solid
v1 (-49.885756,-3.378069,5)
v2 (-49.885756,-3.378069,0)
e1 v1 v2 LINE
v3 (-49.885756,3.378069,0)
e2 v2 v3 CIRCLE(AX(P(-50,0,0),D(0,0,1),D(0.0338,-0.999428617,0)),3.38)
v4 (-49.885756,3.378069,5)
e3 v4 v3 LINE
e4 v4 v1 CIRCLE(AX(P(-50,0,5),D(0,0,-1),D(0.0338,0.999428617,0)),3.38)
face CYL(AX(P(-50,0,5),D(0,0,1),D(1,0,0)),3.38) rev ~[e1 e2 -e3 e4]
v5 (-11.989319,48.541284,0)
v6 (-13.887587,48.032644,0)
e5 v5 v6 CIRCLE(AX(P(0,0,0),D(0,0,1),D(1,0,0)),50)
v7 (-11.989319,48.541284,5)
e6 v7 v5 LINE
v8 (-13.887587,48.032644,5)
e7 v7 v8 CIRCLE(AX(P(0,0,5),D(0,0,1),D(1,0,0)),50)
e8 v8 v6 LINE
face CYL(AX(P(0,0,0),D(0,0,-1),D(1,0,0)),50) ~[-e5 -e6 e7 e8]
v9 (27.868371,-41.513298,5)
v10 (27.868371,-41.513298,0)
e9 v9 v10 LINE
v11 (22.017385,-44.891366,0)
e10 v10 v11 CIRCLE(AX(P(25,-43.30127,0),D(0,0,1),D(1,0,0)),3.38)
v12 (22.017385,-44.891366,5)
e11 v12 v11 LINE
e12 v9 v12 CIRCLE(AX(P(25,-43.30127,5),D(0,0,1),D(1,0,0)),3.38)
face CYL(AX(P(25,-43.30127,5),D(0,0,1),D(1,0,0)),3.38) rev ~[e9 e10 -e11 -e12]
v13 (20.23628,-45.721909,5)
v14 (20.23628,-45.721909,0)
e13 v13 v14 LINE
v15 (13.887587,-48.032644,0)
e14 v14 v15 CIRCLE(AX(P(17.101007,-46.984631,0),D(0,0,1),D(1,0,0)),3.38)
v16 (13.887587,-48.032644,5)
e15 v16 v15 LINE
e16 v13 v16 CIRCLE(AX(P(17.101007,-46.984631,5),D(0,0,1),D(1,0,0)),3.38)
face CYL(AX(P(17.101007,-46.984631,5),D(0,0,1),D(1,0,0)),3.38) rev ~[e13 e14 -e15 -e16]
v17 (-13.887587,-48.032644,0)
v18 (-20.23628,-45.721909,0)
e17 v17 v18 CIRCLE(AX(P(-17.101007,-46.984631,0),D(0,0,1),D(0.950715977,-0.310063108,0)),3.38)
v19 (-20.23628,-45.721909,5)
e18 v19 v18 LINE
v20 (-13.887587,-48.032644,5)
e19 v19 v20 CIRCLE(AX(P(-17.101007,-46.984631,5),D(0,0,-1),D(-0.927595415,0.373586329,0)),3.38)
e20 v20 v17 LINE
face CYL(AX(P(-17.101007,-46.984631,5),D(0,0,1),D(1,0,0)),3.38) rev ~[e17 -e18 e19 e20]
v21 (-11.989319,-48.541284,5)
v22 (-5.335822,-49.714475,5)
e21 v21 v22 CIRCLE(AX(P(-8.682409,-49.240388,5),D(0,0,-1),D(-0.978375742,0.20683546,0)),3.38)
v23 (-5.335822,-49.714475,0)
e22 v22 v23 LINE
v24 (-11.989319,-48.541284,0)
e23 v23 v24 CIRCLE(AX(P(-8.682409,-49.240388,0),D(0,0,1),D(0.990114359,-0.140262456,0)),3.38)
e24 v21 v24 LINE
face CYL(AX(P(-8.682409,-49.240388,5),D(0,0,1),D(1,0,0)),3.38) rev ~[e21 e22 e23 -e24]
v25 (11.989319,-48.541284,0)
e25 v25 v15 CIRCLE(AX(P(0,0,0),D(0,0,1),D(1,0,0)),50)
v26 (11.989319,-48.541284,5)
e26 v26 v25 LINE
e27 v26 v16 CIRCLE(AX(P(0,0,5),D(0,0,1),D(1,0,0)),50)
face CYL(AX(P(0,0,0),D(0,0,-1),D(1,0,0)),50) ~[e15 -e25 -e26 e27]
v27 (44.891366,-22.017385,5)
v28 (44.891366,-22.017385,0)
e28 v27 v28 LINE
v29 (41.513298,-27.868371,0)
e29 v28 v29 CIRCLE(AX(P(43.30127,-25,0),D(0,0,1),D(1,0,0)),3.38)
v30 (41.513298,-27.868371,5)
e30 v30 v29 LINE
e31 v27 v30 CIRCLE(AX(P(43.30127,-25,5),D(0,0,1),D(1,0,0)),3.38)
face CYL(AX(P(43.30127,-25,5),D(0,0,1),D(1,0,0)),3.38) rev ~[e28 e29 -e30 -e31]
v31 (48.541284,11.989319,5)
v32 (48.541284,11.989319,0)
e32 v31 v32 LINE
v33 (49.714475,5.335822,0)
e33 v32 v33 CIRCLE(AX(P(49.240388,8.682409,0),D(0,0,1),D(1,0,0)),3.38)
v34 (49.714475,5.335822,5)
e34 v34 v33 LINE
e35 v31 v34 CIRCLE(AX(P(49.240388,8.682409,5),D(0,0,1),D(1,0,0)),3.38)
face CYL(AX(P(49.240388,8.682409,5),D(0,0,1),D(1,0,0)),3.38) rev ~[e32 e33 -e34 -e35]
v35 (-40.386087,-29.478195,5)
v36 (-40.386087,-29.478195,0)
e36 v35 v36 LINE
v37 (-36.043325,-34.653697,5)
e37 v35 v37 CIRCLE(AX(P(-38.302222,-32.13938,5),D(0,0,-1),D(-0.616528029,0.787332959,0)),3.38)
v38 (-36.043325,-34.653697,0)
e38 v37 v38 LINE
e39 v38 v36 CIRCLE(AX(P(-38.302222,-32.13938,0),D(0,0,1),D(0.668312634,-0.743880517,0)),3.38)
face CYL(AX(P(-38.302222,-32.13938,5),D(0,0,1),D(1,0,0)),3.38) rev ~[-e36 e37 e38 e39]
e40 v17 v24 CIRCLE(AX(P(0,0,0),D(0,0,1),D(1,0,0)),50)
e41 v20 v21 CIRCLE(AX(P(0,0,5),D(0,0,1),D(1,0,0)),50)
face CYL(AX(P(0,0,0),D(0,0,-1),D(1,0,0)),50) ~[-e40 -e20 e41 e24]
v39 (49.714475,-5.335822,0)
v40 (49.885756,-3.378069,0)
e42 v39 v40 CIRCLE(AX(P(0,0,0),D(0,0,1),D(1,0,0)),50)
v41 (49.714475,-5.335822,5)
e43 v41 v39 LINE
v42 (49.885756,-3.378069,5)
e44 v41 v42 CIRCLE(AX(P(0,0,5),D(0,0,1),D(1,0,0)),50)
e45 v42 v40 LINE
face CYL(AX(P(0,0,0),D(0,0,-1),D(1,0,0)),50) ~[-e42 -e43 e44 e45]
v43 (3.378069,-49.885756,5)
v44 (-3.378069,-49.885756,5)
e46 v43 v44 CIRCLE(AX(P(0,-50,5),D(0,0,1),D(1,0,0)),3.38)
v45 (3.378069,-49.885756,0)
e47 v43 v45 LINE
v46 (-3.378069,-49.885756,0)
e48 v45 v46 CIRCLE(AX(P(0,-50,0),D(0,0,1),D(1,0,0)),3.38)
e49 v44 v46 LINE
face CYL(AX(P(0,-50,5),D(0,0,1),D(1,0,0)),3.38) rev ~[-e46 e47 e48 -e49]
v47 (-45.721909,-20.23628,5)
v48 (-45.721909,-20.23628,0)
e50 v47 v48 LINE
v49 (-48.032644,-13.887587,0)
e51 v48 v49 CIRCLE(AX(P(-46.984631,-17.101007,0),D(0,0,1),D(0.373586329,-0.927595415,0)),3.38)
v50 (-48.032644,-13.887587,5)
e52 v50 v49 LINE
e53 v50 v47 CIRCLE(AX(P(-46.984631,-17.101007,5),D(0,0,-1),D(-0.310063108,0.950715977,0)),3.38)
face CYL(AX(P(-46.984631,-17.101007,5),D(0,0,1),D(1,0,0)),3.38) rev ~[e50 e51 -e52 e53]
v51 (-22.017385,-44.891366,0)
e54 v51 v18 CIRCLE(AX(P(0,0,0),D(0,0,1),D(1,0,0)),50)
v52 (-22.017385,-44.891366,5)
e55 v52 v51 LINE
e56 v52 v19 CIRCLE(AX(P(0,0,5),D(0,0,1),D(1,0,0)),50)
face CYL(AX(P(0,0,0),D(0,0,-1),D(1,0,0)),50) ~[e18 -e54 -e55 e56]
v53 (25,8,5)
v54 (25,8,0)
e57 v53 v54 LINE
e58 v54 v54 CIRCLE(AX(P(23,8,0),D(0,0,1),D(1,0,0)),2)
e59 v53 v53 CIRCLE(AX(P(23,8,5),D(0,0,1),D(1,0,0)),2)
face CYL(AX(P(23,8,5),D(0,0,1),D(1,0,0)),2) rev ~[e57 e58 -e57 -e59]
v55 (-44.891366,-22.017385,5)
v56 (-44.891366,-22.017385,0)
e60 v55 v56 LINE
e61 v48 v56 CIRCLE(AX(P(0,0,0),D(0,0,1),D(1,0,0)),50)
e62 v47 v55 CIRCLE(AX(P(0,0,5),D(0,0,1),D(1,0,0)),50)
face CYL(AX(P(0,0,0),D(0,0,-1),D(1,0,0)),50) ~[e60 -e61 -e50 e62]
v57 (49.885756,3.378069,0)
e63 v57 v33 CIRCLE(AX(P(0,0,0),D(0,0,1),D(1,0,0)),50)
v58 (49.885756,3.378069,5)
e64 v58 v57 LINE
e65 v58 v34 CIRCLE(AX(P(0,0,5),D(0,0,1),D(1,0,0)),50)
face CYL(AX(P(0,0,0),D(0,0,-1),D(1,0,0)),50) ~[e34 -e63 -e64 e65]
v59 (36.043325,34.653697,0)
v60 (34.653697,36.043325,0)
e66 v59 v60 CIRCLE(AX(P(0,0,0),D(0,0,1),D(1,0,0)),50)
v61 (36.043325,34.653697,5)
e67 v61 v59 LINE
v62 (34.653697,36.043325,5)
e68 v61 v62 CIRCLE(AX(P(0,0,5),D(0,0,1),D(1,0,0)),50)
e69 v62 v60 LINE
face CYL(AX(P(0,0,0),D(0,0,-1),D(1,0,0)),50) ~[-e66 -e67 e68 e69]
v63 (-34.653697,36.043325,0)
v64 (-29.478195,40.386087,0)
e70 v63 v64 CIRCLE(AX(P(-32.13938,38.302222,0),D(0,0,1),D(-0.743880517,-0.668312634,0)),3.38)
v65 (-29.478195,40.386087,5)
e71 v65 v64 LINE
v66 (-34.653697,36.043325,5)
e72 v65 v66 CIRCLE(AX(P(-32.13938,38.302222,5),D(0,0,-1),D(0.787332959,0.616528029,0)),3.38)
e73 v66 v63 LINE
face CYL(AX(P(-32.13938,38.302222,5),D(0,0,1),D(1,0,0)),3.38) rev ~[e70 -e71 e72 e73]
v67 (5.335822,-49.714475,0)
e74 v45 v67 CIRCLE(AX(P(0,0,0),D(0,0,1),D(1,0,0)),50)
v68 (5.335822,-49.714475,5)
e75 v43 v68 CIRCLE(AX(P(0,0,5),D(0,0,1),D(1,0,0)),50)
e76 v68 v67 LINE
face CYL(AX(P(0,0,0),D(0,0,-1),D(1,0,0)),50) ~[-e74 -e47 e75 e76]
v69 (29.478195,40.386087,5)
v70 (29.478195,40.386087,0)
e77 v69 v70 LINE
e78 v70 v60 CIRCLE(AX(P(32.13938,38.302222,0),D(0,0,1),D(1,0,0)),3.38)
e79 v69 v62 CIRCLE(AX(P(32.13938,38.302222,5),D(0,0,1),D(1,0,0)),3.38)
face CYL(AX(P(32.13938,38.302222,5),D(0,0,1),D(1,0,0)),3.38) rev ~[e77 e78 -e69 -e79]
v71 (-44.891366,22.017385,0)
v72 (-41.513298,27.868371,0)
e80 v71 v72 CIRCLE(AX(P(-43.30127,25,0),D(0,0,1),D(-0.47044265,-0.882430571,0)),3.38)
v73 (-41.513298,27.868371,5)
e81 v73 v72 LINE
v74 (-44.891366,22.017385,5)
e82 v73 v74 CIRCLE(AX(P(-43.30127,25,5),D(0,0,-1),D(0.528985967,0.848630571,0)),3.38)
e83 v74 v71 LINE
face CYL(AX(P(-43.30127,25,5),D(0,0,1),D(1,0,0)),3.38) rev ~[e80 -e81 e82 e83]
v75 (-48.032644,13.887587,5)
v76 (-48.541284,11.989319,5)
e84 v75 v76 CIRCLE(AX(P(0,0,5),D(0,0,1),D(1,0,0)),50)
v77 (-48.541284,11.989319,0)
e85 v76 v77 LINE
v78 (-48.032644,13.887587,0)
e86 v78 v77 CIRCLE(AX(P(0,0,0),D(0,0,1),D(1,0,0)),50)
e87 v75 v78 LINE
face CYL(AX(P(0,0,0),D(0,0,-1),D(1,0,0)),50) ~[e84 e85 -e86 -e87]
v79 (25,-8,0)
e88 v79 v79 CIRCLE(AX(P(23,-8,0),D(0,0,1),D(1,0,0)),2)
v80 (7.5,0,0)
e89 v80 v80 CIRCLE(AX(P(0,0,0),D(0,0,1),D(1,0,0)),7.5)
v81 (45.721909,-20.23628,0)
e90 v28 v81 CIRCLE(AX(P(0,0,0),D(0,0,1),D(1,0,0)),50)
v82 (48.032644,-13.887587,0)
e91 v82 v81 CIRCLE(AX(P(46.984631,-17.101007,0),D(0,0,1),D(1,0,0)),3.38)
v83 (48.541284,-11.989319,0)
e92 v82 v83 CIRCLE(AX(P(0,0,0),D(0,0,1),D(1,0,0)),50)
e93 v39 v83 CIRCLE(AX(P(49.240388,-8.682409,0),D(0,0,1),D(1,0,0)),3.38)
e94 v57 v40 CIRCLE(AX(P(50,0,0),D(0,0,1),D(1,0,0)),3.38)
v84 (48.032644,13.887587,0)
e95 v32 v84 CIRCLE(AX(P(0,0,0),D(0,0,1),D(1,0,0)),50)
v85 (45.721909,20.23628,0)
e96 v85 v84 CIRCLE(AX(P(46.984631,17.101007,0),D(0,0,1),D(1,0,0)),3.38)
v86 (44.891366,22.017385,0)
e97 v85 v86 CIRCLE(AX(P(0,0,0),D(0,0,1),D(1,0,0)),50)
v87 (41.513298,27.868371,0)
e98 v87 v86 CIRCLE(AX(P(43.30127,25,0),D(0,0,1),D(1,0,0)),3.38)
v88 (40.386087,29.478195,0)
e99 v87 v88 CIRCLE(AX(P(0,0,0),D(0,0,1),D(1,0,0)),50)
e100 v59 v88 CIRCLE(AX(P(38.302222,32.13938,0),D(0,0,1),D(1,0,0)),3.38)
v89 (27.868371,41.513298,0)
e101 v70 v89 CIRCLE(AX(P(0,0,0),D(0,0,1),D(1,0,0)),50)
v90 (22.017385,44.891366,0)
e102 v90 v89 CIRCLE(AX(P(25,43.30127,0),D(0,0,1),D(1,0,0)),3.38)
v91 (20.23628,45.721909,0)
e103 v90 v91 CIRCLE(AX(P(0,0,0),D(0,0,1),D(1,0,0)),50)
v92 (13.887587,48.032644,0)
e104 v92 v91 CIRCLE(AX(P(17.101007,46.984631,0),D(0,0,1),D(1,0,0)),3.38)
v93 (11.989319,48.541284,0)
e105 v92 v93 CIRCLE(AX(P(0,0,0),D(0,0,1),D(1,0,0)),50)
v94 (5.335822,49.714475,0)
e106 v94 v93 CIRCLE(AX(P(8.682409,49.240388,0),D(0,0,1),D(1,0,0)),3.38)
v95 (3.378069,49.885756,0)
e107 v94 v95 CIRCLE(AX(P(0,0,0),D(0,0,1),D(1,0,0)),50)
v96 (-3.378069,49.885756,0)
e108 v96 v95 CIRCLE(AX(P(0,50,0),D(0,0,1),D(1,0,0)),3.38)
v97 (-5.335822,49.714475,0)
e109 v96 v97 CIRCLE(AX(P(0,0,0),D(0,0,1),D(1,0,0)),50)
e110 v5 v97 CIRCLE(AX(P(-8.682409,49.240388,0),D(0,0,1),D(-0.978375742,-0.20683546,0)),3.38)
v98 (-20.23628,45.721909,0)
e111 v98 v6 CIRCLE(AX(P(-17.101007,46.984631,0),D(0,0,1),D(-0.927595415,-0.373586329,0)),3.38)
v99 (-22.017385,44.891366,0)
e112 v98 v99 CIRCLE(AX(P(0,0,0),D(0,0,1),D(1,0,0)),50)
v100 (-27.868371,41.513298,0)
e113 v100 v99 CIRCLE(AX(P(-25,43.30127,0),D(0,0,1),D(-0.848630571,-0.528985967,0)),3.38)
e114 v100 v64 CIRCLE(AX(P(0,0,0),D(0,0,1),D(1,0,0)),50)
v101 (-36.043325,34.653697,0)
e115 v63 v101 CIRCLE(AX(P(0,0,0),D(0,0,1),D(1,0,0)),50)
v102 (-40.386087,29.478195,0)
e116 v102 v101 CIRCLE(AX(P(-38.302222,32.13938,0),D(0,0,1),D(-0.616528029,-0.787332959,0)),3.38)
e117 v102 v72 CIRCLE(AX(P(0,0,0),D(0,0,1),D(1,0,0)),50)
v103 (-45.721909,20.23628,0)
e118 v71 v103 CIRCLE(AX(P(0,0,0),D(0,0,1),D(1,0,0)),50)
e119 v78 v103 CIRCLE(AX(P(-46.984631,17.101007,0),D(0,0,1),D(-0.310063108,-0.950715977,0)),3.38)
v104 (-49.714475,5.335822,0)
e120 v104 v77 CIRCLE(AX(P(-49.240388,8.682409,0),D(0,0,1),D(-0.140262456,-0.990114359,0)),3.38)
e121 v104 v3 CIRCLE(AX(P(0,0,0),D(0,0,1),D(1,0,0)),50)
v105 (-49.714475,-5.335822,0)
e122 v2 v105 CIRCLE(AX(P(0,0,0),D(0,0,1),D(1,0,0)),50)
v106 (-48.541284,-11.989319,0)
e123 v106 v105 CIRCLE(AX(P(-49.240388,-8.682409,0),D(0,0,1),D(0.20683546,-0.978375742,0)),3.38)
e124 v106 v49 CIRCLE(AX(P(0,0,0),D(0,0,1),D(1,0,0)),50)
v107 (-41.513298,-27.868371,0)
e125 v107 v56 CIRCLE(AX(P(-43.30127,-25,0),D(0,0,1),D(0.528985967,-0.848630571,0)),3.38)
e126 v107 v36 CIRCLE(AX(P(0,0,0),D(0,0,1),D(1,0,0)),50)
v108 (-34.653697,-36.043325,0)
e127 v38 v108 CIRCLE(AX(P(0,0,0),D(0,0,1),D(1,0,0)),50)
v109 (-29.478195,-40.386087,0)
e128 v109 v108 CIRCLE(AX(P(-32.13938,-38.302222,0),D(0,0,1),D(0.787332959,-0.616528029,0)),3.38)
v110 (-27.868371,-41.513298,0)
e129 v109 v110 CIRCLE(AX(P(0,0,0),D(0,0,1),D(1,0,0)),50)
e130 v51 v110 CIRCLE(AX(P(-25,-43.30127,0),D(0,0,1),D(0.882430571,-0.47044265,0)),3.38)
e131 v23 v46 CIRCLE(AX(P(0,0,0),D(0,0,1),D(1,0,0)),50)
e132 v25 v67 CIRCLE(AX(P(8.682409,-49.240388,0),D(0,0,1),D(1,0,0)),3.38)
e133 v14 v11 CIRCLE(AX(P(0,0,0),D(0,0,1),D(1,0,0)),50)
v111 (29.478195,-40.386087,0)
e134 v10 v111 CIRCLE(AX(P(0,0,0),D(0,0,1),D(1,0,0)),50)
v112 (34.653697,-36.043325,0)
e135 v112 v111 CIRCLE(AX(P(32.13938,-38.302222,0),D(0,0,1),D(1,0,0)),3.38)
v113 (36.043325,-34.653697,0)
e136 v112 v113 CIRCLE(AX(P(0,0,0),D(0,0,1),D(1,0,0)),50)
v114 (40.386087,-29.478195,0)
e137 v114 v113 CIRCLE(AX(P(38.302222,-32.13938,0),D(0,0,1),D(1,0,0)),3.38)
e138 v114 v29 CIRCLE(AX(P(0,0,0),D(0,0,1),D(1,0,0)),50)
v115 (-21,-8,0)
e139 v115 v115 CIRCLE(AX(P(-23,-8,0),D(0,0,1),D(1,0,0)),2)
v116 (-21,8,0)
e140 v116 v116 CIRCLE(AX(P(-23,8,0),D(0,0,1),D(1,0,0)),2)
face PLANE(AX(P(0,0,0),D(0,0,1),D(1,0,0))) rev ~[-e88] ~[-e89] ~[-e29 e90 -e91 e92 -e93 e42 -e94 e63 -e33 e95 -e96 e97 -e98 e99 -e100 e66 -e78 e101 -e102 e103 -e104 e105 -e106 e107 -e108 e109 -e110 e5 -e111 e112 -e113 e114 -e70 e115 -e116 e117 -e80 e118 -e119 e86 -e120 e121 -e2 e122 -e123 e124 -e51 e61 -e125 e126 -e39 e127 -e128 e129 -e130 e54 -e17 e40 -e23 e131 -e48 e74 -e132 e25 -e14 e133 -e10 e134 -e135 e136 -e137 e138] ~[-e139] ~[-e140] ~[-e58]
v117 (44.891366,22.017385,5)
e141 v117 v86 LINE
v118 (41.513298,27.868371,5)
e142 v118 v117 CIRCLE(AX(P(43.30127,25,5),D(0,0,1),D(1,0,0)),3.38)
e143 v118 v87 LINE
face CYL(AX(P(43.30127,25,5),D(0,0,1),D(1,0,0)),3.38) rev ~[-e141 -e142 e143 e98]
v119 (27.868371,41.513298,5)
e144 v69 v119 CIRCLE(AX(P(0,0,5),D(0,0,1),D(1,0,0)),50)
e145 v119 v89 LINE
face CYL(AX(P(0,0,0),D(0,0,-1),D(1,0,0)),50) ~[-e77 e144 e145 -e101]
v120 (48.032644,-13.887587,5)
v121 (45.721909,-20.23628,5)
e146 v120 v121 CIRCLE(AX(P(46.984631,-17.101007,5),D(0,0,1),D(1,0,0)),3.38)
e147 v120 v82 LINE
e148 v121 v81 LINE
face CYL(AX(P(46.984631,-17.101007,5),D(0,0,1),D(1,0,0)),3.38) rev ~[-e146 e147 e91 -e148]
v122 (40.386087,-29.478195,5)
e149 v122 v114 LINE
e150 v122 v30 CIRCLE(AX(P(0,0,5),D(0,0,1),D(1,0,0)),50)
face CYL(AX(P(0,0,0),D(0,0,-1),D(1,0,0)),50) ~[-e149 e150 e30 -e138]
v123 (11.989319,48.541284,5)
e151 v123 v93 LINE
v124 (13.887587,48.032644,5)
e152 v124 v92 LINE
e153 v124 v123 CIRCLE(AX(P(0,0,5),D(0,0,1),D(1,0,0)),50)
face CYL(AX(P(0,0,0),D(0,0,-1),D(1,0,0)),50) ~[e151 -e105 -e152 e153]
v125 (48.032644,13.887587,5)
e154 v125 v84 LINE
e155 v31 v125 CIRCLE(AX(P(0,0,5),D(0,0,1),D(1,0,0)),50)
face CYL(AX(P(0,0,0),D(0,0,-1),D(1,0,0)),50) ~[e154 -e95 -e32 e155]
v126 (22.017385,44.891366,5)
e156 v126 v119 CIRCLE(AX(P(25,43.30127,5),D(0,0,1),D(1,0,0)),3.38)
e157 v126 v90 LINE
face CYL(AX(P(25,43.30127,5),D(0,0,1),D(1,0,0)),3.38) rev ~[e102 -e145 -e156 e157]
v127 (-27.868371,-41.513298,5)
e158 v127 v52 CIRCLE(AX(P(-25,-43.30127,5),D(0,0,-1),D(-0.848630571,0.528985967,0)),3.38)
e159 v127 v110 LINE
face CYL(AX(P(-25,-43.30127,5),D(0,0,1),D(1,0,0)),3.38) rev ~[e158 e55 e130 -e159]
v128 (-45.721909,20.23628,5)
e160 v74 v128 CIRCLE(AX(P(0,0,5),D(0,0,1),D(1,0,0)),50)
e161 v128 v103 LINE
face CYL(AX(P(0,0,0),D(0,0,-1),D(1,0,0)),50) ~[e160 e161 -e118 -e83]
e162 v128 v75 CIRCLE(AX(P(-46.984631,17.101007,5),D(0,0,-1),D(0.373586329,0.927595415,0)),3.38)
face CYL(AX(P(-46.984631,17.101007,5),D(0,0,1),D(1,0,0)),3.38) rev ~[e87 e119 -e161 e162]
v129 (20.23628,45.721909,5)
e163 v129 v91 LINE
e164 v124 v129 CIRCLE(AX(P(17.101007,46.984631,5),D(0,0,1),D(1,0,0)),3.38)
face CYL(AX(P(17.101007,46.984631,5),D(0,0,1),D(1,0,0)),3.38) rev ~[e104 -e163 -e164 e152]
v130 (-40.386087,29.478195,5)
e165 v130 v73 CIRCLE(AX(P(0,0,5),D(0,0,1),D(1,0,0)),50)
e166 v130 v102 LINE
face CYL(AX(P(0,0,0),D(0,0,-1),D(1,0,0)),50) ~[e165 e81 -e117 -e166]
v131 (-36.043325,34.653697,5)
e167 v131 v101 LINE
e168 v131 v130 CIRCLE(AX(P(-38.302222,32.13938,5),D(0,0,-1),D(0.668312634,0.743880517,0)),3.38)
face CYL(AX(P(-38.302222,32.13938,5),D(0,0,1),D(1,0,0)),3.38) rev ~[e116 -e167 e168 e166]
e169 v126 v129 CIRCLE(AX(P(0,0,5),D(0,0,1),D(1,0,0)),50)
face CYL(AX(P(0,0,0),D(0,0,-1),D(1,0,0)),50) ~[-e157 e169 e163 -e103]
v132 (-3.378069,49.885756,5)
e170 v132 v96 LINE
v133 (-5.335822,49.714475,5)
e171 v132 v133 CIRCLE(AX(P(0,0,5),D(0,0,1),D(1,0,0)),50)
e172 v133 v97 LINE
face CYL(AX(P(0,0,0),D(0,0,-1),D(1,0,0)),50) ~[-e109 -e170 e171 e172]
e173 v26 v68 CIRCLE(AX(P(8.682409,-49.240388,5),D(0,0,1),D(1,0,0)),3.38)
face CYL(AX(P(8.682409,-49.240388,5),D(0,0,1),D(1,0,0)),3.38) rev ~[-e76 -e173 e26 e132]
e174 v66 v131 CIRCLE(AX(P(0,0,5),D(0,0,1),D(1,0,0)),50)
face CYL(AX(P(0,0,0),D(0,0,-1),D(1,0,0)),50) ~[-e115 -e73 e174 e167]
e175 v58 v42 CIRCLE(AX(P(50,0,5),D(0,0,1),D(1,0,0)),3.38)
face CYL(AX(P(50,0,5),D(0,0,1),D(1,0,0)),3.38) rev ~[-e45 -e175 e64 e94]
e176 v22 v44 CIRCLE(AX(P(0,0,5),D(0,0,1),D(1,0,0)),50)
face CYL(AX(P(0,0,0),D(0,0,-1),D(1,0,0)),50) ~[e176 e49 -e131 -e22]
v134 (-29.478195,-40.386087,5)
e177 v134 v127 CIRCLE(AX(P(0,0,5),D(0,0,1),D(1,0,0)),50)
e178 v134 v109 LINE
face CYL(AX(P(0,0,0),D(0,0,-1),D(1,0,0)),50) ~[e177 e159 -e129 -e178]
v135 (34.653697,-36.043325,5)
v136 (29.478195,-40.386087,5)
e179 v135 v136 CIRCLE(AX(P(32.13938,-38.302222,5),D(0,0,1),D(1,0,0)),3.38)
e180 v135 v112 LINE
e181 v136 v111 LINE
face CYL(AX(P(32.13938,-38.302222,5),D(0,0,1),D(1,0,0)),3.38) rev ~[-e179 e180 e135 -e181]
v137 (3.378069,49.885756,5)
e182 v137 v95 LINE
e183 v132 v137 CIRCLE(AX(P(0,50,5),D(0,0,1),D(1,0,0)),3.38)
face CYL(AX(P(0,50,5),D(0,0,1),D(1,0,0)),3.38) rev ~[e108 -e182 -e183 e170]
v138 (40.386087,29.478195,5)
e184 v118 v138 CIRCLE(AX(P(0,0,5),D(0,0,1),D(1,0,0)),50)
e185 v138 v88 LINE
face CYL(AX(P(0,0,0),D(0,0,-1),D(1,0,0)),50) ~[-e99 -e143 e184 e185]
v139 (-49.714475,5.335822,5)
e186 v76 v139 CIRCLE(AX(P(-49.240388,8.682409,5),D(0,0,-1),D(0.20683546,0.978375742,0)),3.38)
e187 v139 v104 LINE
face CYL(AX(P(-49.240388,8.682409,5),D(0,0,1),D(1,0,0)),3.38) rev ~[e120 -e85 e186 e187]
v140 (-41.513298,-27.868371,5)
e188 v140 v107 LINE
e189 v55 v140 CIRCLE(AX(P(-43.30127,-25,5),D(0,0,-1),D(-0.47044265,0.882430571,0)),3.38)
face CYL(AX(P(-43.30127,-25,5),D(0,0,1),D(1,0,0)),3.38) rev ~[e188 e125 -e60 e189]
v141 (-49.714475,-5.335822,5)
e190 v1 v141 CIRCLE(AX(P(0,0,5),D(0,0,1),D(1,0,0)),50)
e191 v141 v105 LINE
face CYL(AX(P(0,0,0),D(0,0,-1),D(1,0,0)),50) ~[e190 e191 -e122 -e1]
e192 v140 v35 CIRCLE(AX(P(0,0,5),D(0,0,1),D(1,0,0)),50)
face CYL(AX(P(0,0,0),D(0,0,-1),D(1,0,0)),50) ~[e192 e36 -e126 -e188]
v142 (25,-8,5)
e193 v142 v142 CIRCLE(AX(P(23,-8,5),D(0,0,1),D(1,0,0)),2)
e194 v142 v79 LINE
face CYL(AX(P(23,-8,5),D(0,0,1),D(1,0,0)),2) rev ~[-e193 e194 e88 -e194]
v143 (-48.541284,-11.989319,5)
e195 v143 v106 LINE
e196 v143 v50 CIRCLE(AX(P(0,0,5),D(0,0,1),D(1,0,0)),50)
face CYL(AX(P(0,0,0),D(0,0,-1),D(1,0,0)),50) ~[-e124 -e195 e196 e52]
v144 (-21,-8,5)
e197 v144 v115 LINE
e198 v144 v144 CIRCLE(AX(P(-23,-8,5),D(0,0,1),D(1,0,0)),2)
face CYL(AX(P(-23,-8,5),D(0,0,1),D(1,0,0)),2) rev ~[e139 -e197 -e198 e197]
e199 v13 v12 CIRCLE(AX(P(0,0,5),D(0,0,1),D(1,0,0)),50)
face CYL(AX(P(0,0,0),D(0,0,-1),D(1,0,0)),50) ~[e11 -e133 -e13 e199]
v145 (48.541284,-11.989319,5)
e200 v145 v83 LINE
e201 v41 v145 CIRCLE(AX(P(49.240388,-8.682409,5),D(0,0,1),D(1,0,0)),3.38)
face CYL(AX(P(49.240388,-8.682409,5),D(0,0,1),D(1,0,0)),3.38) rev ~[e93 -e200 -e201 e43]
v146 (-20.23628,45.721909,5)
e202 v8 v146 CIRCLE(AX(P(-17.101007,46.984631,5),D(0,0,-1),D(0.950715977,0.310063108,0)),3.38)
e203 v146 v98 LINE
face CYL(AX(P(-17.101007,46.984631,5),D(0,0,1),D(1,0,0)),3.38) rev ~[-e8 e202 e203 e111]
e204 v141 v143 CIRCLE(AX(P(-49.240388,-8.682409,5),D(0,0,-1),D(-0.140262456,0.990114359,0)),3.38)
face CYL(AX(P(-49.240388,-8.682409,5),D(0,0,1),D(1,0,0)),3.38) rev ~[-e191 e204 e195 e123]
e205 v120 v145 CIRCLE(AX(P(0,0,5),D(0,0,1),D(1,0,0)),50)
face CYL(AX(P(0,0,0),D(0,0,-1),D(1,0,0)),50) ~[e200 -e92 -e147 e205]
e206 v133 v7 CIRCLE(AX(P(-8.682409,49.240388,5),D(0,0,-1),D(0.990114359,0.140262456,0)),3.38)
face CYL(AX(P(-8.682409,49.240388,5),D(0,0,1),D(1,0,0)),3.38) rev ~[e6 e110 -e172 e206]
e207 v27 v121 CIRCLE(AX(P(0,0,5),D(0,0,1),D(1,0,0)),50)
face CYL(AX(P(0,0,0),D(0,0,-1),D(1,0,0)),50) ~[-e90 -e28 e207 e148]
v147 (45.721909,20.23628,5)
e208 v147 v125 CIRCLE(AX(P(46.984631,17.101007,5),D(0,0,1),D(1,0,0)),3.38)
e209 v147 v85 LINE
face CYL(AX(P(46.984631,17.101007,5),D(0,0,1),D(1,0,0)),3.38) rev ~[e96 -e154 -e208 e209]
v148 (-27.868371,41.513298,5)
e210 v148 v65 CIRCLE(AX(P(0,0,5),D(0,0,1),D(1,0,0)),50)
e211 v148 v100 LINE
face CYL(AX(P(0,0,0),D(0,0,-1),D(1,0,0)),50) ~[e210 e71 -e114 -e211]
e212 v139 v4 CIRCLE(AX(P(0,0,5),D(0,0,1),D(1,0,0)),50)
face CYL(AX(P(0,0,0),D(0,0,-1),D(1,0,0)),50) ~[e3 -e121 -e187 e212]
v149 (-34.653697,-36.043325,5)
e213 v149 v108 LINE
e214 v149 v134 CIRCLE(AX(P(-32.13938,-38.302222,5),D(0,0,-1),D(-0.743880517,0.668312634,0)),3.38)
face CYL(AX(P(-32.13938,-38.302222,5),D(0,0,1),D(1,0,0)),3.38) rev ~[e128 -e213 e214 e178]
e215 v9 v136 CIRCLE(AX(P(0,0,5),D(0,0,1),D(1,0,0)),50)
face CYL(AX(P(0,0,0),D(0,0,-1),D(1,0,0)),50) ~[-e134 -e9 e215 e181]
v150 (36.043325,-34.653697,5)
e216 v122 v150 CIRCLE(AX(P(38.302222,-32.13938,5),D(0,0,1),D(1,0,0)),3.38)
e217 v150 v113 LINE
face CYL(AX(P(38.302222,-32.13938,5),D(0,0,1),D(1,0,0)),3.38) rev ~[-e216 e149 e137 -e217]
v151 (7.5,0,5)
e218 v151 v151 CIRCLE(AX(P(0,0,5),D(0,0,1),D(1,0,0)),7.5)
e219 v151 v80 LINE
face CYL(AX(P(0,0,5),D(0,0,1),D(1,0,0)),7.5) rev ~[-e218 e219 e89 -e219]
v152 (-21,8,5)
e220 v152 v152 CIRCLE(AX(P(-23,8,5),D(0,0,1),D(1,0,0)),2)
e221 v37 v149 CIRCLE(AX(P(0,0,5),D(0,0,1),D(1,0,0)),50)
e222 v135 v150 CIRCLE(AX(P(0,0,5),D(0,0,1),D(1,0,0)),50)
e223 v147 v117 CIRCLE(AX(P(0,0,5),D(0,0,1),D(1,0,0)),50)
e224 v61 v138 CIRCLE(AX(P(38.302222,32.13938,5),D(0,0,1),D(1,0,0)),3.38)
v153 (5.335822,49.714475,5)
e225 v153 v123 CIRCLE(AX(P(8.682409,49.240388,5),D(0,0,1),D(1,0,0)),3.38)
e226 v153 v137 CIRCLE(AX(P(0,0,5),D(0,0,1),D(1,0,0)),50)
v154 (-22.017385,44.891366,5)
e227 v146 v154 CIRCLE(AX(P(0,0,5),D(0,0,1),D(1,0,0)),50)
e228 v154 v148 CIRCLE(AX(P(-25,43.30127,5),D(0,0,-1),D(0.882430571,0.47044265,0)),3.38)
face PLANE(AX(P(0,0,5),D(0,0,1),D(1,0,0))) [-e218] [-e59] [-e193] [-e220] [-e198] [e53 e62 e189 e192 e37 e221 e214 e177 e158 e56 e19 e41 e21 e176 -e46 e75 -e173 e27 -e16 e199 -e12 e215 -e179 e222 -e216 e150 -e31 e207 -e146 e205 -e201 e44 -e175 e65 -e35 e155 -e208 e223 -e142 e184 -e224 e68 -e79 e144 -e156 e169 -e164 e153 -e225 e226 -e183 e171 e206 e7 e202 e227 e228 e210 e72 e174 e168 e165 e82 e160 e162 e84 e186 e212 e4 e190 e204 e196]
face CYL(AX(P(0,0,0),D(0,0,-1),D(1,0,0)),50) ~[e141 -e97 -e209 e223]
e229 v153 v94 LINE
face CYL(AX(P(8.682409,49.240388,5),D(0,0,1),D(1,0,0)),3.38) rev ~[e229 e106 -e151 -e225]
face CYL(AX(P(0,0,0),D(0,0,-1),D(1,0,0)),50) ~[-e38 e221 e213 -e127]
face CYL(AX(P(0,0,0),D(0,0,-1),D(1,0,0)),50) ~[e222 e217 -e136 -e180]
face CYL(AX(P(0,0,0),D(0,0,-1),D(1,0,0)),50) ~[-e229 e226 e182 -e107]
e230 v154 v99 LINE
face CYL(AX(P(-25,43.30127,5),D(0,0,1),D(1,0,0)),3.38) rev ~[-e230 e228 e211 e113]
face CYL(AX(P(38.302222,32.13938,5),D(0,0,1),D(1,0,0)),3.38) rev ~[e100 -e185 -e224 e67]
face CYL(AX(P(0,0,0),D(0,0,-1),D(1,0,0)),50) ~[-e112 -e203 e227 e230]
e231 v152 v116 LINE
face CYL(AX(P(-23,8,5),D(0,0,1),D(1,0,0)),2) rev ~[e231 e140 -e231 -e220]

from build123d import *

# Parameters (mm, degrees)
SKETCH_1_R          = 50
EXTRUDE_1_DEPTH     = 5
SKETCH_4_R          = 7.5
CUT_EXTRUDE_3_DEPTH = 10
SKETCH_5_R          = 2
CUT_EXTRUDE_4_DEPTH = 10
SKETCH_6_R          = 3.38
CUT_EXTRUDE_5_DEPTH = 71.887234394


with BuildPart() as part:
    # 스케치1 → 보스-돌출1 (new body)
    with BuildSketch(Plane.XY):
        Circle(SKETCH_1_R)
    extrude(amount=EXTRUDE_1_DEPTH)

    # 스케치4 → 컷-돌출3 (cut)
    with BuildSketch(Plane.XY.offset(5)):
        Circle(SKETCH_4_R)
    extrude(amount=-CUT_EXTRUDE_3_DEPTH, mode=Mode.SUBTRACT)

    # 스케치5 → 컷-돌출4 (cut)
    with BuildSketch(Plane.XY.offset(5)):
        with Locations((-23, 8)):
            Circle(SKETCH_5_R)
        with Locations((23, 8)):
            Circle(SKETCH_5_R)
        with Locations((23, -8)):
            Circle(SKETCH_5_R)
        with Locations((-23, -8)):
            Circle(SKETCH_5_R)
    extrude(amount=-CUT_EXTRUDE_4_DEPTH, mode=Mode.SUBTRACT)

    # 스케치6 → 컷-돌출5 (cut, through all)
    with BuildSketch(Plane.XY.offset(5)):
        with Locations((0, 50)):
            Circle(SKETCH_6_R)
        with Locations((8.682408883, 49.240387651)):
            Circle(SKETCH_6_R)
        with Locations((17.101007166, 46.984631039)):
            Circle(SKETCH_6_R)
        with Locations((25, 43.301270189)):
            Circle(SKETCH_6_R)
        with Locations((32.139380484, 38.302222156)):
            Circle(SKETCH_6_R)
        with Locations((38.302222156, 32.139380484)):
            Circle(SKETCH_6_R)
        with Locations((43.301270189, 25)):
            Circle(SKETCH_6_R)
        with Locations((46.984631039, 17.101007166)):
            Circle(SKETCH_6_R)
        with Locations((49.240387651, 8.682408883)):
            Circle(SKETCH_6_R)
        with Locations((50, 0)):
            Circle(SKETCH_6_R)
        with Locations((49.240387651, -8.682408883)):
            Circle(SKETCH_6_R)
        with Locations((46.984631039, -17.101007166)):
            Circle(SKETCH_6_R)
        with Locations((43.301270189, -25)):
            Circle(SKETCH_6_R)
        with Locations((38.302222156, -32.139380484)):
            Circle(SKETCH_6_R)
        with Locations((32.139380484, -38.302222156)):
            Circle(SKETCH_6_R)
        with Locations((25, -43.301270189)):
            Circle(SKETCH_6_R)
        with Locations((17.101007166, -46.984631039)):
            Circle(SKETCH_6_R)
        with Locations((8.682408883, -49.240387651)):
            Circle(SKETCH_6_R)
        with Locations((0, -50)):
            Circle(SKETCH_6_R)
        with Locations((-8.682408883, -49.240387651)):
            Circle(SKETCH_6_R)
        with Locations((-17.101007166, -46.984631039)):
            Circle(SKETCH_6_R)
        with Locations((-25, -43.301270189)):
            Circle(SKETCH_6_R)
        with Locations((-32.139380484, -38.302222156)):
            Circle(SKETCH_6_R)
        with Locations((-38.302222156, -32.139380484)):
            Circle(SKETCH_6_R)
        with Locations((-43.301270189, -25)):
            Circle(SKETCH_6_R)
        with Locations((-46.984631039, -17.101007166)):
            Circle(SKETCH_6_R)
        with Locations((-49.240387651, -8.682408883)):
            Circle(SKETCH_6_R)
        with Locations((-50, 0)):
            Circle(SKETCH_6_R)
        with Locations((-49.240387651, 8.682408883)):
            Circle(SKETCH_6_R)
        with Locations((-46.984631039, 17.101007166)):
            Circle(SKETCH_6_R)
        with Locations((-43.301270189, 25)):
            Circle(SKETCH_6_R)
        with Locations((-38.302222156, 32.139380484)):
            Circle(SKETCH_6_R)
        with Locations((-32.139380484, 38.302222156)):
            Circle(SKETCH_6_R)
        with Locations((-25, 43.301270189)):
            Circle(SKETCH_6_R)
        with Locations((-17.101007166, 46.984631039)):
            Circle(SKETCH_6_R)
        with Locations((-8.682408883, 49.240387651)):
            Circle(SKETCH_6_R)
    extrude(amount=-CUT_EXTRUDE_5_DEPTH, mode=Mode.SUBTRACT)


solid = part.part
